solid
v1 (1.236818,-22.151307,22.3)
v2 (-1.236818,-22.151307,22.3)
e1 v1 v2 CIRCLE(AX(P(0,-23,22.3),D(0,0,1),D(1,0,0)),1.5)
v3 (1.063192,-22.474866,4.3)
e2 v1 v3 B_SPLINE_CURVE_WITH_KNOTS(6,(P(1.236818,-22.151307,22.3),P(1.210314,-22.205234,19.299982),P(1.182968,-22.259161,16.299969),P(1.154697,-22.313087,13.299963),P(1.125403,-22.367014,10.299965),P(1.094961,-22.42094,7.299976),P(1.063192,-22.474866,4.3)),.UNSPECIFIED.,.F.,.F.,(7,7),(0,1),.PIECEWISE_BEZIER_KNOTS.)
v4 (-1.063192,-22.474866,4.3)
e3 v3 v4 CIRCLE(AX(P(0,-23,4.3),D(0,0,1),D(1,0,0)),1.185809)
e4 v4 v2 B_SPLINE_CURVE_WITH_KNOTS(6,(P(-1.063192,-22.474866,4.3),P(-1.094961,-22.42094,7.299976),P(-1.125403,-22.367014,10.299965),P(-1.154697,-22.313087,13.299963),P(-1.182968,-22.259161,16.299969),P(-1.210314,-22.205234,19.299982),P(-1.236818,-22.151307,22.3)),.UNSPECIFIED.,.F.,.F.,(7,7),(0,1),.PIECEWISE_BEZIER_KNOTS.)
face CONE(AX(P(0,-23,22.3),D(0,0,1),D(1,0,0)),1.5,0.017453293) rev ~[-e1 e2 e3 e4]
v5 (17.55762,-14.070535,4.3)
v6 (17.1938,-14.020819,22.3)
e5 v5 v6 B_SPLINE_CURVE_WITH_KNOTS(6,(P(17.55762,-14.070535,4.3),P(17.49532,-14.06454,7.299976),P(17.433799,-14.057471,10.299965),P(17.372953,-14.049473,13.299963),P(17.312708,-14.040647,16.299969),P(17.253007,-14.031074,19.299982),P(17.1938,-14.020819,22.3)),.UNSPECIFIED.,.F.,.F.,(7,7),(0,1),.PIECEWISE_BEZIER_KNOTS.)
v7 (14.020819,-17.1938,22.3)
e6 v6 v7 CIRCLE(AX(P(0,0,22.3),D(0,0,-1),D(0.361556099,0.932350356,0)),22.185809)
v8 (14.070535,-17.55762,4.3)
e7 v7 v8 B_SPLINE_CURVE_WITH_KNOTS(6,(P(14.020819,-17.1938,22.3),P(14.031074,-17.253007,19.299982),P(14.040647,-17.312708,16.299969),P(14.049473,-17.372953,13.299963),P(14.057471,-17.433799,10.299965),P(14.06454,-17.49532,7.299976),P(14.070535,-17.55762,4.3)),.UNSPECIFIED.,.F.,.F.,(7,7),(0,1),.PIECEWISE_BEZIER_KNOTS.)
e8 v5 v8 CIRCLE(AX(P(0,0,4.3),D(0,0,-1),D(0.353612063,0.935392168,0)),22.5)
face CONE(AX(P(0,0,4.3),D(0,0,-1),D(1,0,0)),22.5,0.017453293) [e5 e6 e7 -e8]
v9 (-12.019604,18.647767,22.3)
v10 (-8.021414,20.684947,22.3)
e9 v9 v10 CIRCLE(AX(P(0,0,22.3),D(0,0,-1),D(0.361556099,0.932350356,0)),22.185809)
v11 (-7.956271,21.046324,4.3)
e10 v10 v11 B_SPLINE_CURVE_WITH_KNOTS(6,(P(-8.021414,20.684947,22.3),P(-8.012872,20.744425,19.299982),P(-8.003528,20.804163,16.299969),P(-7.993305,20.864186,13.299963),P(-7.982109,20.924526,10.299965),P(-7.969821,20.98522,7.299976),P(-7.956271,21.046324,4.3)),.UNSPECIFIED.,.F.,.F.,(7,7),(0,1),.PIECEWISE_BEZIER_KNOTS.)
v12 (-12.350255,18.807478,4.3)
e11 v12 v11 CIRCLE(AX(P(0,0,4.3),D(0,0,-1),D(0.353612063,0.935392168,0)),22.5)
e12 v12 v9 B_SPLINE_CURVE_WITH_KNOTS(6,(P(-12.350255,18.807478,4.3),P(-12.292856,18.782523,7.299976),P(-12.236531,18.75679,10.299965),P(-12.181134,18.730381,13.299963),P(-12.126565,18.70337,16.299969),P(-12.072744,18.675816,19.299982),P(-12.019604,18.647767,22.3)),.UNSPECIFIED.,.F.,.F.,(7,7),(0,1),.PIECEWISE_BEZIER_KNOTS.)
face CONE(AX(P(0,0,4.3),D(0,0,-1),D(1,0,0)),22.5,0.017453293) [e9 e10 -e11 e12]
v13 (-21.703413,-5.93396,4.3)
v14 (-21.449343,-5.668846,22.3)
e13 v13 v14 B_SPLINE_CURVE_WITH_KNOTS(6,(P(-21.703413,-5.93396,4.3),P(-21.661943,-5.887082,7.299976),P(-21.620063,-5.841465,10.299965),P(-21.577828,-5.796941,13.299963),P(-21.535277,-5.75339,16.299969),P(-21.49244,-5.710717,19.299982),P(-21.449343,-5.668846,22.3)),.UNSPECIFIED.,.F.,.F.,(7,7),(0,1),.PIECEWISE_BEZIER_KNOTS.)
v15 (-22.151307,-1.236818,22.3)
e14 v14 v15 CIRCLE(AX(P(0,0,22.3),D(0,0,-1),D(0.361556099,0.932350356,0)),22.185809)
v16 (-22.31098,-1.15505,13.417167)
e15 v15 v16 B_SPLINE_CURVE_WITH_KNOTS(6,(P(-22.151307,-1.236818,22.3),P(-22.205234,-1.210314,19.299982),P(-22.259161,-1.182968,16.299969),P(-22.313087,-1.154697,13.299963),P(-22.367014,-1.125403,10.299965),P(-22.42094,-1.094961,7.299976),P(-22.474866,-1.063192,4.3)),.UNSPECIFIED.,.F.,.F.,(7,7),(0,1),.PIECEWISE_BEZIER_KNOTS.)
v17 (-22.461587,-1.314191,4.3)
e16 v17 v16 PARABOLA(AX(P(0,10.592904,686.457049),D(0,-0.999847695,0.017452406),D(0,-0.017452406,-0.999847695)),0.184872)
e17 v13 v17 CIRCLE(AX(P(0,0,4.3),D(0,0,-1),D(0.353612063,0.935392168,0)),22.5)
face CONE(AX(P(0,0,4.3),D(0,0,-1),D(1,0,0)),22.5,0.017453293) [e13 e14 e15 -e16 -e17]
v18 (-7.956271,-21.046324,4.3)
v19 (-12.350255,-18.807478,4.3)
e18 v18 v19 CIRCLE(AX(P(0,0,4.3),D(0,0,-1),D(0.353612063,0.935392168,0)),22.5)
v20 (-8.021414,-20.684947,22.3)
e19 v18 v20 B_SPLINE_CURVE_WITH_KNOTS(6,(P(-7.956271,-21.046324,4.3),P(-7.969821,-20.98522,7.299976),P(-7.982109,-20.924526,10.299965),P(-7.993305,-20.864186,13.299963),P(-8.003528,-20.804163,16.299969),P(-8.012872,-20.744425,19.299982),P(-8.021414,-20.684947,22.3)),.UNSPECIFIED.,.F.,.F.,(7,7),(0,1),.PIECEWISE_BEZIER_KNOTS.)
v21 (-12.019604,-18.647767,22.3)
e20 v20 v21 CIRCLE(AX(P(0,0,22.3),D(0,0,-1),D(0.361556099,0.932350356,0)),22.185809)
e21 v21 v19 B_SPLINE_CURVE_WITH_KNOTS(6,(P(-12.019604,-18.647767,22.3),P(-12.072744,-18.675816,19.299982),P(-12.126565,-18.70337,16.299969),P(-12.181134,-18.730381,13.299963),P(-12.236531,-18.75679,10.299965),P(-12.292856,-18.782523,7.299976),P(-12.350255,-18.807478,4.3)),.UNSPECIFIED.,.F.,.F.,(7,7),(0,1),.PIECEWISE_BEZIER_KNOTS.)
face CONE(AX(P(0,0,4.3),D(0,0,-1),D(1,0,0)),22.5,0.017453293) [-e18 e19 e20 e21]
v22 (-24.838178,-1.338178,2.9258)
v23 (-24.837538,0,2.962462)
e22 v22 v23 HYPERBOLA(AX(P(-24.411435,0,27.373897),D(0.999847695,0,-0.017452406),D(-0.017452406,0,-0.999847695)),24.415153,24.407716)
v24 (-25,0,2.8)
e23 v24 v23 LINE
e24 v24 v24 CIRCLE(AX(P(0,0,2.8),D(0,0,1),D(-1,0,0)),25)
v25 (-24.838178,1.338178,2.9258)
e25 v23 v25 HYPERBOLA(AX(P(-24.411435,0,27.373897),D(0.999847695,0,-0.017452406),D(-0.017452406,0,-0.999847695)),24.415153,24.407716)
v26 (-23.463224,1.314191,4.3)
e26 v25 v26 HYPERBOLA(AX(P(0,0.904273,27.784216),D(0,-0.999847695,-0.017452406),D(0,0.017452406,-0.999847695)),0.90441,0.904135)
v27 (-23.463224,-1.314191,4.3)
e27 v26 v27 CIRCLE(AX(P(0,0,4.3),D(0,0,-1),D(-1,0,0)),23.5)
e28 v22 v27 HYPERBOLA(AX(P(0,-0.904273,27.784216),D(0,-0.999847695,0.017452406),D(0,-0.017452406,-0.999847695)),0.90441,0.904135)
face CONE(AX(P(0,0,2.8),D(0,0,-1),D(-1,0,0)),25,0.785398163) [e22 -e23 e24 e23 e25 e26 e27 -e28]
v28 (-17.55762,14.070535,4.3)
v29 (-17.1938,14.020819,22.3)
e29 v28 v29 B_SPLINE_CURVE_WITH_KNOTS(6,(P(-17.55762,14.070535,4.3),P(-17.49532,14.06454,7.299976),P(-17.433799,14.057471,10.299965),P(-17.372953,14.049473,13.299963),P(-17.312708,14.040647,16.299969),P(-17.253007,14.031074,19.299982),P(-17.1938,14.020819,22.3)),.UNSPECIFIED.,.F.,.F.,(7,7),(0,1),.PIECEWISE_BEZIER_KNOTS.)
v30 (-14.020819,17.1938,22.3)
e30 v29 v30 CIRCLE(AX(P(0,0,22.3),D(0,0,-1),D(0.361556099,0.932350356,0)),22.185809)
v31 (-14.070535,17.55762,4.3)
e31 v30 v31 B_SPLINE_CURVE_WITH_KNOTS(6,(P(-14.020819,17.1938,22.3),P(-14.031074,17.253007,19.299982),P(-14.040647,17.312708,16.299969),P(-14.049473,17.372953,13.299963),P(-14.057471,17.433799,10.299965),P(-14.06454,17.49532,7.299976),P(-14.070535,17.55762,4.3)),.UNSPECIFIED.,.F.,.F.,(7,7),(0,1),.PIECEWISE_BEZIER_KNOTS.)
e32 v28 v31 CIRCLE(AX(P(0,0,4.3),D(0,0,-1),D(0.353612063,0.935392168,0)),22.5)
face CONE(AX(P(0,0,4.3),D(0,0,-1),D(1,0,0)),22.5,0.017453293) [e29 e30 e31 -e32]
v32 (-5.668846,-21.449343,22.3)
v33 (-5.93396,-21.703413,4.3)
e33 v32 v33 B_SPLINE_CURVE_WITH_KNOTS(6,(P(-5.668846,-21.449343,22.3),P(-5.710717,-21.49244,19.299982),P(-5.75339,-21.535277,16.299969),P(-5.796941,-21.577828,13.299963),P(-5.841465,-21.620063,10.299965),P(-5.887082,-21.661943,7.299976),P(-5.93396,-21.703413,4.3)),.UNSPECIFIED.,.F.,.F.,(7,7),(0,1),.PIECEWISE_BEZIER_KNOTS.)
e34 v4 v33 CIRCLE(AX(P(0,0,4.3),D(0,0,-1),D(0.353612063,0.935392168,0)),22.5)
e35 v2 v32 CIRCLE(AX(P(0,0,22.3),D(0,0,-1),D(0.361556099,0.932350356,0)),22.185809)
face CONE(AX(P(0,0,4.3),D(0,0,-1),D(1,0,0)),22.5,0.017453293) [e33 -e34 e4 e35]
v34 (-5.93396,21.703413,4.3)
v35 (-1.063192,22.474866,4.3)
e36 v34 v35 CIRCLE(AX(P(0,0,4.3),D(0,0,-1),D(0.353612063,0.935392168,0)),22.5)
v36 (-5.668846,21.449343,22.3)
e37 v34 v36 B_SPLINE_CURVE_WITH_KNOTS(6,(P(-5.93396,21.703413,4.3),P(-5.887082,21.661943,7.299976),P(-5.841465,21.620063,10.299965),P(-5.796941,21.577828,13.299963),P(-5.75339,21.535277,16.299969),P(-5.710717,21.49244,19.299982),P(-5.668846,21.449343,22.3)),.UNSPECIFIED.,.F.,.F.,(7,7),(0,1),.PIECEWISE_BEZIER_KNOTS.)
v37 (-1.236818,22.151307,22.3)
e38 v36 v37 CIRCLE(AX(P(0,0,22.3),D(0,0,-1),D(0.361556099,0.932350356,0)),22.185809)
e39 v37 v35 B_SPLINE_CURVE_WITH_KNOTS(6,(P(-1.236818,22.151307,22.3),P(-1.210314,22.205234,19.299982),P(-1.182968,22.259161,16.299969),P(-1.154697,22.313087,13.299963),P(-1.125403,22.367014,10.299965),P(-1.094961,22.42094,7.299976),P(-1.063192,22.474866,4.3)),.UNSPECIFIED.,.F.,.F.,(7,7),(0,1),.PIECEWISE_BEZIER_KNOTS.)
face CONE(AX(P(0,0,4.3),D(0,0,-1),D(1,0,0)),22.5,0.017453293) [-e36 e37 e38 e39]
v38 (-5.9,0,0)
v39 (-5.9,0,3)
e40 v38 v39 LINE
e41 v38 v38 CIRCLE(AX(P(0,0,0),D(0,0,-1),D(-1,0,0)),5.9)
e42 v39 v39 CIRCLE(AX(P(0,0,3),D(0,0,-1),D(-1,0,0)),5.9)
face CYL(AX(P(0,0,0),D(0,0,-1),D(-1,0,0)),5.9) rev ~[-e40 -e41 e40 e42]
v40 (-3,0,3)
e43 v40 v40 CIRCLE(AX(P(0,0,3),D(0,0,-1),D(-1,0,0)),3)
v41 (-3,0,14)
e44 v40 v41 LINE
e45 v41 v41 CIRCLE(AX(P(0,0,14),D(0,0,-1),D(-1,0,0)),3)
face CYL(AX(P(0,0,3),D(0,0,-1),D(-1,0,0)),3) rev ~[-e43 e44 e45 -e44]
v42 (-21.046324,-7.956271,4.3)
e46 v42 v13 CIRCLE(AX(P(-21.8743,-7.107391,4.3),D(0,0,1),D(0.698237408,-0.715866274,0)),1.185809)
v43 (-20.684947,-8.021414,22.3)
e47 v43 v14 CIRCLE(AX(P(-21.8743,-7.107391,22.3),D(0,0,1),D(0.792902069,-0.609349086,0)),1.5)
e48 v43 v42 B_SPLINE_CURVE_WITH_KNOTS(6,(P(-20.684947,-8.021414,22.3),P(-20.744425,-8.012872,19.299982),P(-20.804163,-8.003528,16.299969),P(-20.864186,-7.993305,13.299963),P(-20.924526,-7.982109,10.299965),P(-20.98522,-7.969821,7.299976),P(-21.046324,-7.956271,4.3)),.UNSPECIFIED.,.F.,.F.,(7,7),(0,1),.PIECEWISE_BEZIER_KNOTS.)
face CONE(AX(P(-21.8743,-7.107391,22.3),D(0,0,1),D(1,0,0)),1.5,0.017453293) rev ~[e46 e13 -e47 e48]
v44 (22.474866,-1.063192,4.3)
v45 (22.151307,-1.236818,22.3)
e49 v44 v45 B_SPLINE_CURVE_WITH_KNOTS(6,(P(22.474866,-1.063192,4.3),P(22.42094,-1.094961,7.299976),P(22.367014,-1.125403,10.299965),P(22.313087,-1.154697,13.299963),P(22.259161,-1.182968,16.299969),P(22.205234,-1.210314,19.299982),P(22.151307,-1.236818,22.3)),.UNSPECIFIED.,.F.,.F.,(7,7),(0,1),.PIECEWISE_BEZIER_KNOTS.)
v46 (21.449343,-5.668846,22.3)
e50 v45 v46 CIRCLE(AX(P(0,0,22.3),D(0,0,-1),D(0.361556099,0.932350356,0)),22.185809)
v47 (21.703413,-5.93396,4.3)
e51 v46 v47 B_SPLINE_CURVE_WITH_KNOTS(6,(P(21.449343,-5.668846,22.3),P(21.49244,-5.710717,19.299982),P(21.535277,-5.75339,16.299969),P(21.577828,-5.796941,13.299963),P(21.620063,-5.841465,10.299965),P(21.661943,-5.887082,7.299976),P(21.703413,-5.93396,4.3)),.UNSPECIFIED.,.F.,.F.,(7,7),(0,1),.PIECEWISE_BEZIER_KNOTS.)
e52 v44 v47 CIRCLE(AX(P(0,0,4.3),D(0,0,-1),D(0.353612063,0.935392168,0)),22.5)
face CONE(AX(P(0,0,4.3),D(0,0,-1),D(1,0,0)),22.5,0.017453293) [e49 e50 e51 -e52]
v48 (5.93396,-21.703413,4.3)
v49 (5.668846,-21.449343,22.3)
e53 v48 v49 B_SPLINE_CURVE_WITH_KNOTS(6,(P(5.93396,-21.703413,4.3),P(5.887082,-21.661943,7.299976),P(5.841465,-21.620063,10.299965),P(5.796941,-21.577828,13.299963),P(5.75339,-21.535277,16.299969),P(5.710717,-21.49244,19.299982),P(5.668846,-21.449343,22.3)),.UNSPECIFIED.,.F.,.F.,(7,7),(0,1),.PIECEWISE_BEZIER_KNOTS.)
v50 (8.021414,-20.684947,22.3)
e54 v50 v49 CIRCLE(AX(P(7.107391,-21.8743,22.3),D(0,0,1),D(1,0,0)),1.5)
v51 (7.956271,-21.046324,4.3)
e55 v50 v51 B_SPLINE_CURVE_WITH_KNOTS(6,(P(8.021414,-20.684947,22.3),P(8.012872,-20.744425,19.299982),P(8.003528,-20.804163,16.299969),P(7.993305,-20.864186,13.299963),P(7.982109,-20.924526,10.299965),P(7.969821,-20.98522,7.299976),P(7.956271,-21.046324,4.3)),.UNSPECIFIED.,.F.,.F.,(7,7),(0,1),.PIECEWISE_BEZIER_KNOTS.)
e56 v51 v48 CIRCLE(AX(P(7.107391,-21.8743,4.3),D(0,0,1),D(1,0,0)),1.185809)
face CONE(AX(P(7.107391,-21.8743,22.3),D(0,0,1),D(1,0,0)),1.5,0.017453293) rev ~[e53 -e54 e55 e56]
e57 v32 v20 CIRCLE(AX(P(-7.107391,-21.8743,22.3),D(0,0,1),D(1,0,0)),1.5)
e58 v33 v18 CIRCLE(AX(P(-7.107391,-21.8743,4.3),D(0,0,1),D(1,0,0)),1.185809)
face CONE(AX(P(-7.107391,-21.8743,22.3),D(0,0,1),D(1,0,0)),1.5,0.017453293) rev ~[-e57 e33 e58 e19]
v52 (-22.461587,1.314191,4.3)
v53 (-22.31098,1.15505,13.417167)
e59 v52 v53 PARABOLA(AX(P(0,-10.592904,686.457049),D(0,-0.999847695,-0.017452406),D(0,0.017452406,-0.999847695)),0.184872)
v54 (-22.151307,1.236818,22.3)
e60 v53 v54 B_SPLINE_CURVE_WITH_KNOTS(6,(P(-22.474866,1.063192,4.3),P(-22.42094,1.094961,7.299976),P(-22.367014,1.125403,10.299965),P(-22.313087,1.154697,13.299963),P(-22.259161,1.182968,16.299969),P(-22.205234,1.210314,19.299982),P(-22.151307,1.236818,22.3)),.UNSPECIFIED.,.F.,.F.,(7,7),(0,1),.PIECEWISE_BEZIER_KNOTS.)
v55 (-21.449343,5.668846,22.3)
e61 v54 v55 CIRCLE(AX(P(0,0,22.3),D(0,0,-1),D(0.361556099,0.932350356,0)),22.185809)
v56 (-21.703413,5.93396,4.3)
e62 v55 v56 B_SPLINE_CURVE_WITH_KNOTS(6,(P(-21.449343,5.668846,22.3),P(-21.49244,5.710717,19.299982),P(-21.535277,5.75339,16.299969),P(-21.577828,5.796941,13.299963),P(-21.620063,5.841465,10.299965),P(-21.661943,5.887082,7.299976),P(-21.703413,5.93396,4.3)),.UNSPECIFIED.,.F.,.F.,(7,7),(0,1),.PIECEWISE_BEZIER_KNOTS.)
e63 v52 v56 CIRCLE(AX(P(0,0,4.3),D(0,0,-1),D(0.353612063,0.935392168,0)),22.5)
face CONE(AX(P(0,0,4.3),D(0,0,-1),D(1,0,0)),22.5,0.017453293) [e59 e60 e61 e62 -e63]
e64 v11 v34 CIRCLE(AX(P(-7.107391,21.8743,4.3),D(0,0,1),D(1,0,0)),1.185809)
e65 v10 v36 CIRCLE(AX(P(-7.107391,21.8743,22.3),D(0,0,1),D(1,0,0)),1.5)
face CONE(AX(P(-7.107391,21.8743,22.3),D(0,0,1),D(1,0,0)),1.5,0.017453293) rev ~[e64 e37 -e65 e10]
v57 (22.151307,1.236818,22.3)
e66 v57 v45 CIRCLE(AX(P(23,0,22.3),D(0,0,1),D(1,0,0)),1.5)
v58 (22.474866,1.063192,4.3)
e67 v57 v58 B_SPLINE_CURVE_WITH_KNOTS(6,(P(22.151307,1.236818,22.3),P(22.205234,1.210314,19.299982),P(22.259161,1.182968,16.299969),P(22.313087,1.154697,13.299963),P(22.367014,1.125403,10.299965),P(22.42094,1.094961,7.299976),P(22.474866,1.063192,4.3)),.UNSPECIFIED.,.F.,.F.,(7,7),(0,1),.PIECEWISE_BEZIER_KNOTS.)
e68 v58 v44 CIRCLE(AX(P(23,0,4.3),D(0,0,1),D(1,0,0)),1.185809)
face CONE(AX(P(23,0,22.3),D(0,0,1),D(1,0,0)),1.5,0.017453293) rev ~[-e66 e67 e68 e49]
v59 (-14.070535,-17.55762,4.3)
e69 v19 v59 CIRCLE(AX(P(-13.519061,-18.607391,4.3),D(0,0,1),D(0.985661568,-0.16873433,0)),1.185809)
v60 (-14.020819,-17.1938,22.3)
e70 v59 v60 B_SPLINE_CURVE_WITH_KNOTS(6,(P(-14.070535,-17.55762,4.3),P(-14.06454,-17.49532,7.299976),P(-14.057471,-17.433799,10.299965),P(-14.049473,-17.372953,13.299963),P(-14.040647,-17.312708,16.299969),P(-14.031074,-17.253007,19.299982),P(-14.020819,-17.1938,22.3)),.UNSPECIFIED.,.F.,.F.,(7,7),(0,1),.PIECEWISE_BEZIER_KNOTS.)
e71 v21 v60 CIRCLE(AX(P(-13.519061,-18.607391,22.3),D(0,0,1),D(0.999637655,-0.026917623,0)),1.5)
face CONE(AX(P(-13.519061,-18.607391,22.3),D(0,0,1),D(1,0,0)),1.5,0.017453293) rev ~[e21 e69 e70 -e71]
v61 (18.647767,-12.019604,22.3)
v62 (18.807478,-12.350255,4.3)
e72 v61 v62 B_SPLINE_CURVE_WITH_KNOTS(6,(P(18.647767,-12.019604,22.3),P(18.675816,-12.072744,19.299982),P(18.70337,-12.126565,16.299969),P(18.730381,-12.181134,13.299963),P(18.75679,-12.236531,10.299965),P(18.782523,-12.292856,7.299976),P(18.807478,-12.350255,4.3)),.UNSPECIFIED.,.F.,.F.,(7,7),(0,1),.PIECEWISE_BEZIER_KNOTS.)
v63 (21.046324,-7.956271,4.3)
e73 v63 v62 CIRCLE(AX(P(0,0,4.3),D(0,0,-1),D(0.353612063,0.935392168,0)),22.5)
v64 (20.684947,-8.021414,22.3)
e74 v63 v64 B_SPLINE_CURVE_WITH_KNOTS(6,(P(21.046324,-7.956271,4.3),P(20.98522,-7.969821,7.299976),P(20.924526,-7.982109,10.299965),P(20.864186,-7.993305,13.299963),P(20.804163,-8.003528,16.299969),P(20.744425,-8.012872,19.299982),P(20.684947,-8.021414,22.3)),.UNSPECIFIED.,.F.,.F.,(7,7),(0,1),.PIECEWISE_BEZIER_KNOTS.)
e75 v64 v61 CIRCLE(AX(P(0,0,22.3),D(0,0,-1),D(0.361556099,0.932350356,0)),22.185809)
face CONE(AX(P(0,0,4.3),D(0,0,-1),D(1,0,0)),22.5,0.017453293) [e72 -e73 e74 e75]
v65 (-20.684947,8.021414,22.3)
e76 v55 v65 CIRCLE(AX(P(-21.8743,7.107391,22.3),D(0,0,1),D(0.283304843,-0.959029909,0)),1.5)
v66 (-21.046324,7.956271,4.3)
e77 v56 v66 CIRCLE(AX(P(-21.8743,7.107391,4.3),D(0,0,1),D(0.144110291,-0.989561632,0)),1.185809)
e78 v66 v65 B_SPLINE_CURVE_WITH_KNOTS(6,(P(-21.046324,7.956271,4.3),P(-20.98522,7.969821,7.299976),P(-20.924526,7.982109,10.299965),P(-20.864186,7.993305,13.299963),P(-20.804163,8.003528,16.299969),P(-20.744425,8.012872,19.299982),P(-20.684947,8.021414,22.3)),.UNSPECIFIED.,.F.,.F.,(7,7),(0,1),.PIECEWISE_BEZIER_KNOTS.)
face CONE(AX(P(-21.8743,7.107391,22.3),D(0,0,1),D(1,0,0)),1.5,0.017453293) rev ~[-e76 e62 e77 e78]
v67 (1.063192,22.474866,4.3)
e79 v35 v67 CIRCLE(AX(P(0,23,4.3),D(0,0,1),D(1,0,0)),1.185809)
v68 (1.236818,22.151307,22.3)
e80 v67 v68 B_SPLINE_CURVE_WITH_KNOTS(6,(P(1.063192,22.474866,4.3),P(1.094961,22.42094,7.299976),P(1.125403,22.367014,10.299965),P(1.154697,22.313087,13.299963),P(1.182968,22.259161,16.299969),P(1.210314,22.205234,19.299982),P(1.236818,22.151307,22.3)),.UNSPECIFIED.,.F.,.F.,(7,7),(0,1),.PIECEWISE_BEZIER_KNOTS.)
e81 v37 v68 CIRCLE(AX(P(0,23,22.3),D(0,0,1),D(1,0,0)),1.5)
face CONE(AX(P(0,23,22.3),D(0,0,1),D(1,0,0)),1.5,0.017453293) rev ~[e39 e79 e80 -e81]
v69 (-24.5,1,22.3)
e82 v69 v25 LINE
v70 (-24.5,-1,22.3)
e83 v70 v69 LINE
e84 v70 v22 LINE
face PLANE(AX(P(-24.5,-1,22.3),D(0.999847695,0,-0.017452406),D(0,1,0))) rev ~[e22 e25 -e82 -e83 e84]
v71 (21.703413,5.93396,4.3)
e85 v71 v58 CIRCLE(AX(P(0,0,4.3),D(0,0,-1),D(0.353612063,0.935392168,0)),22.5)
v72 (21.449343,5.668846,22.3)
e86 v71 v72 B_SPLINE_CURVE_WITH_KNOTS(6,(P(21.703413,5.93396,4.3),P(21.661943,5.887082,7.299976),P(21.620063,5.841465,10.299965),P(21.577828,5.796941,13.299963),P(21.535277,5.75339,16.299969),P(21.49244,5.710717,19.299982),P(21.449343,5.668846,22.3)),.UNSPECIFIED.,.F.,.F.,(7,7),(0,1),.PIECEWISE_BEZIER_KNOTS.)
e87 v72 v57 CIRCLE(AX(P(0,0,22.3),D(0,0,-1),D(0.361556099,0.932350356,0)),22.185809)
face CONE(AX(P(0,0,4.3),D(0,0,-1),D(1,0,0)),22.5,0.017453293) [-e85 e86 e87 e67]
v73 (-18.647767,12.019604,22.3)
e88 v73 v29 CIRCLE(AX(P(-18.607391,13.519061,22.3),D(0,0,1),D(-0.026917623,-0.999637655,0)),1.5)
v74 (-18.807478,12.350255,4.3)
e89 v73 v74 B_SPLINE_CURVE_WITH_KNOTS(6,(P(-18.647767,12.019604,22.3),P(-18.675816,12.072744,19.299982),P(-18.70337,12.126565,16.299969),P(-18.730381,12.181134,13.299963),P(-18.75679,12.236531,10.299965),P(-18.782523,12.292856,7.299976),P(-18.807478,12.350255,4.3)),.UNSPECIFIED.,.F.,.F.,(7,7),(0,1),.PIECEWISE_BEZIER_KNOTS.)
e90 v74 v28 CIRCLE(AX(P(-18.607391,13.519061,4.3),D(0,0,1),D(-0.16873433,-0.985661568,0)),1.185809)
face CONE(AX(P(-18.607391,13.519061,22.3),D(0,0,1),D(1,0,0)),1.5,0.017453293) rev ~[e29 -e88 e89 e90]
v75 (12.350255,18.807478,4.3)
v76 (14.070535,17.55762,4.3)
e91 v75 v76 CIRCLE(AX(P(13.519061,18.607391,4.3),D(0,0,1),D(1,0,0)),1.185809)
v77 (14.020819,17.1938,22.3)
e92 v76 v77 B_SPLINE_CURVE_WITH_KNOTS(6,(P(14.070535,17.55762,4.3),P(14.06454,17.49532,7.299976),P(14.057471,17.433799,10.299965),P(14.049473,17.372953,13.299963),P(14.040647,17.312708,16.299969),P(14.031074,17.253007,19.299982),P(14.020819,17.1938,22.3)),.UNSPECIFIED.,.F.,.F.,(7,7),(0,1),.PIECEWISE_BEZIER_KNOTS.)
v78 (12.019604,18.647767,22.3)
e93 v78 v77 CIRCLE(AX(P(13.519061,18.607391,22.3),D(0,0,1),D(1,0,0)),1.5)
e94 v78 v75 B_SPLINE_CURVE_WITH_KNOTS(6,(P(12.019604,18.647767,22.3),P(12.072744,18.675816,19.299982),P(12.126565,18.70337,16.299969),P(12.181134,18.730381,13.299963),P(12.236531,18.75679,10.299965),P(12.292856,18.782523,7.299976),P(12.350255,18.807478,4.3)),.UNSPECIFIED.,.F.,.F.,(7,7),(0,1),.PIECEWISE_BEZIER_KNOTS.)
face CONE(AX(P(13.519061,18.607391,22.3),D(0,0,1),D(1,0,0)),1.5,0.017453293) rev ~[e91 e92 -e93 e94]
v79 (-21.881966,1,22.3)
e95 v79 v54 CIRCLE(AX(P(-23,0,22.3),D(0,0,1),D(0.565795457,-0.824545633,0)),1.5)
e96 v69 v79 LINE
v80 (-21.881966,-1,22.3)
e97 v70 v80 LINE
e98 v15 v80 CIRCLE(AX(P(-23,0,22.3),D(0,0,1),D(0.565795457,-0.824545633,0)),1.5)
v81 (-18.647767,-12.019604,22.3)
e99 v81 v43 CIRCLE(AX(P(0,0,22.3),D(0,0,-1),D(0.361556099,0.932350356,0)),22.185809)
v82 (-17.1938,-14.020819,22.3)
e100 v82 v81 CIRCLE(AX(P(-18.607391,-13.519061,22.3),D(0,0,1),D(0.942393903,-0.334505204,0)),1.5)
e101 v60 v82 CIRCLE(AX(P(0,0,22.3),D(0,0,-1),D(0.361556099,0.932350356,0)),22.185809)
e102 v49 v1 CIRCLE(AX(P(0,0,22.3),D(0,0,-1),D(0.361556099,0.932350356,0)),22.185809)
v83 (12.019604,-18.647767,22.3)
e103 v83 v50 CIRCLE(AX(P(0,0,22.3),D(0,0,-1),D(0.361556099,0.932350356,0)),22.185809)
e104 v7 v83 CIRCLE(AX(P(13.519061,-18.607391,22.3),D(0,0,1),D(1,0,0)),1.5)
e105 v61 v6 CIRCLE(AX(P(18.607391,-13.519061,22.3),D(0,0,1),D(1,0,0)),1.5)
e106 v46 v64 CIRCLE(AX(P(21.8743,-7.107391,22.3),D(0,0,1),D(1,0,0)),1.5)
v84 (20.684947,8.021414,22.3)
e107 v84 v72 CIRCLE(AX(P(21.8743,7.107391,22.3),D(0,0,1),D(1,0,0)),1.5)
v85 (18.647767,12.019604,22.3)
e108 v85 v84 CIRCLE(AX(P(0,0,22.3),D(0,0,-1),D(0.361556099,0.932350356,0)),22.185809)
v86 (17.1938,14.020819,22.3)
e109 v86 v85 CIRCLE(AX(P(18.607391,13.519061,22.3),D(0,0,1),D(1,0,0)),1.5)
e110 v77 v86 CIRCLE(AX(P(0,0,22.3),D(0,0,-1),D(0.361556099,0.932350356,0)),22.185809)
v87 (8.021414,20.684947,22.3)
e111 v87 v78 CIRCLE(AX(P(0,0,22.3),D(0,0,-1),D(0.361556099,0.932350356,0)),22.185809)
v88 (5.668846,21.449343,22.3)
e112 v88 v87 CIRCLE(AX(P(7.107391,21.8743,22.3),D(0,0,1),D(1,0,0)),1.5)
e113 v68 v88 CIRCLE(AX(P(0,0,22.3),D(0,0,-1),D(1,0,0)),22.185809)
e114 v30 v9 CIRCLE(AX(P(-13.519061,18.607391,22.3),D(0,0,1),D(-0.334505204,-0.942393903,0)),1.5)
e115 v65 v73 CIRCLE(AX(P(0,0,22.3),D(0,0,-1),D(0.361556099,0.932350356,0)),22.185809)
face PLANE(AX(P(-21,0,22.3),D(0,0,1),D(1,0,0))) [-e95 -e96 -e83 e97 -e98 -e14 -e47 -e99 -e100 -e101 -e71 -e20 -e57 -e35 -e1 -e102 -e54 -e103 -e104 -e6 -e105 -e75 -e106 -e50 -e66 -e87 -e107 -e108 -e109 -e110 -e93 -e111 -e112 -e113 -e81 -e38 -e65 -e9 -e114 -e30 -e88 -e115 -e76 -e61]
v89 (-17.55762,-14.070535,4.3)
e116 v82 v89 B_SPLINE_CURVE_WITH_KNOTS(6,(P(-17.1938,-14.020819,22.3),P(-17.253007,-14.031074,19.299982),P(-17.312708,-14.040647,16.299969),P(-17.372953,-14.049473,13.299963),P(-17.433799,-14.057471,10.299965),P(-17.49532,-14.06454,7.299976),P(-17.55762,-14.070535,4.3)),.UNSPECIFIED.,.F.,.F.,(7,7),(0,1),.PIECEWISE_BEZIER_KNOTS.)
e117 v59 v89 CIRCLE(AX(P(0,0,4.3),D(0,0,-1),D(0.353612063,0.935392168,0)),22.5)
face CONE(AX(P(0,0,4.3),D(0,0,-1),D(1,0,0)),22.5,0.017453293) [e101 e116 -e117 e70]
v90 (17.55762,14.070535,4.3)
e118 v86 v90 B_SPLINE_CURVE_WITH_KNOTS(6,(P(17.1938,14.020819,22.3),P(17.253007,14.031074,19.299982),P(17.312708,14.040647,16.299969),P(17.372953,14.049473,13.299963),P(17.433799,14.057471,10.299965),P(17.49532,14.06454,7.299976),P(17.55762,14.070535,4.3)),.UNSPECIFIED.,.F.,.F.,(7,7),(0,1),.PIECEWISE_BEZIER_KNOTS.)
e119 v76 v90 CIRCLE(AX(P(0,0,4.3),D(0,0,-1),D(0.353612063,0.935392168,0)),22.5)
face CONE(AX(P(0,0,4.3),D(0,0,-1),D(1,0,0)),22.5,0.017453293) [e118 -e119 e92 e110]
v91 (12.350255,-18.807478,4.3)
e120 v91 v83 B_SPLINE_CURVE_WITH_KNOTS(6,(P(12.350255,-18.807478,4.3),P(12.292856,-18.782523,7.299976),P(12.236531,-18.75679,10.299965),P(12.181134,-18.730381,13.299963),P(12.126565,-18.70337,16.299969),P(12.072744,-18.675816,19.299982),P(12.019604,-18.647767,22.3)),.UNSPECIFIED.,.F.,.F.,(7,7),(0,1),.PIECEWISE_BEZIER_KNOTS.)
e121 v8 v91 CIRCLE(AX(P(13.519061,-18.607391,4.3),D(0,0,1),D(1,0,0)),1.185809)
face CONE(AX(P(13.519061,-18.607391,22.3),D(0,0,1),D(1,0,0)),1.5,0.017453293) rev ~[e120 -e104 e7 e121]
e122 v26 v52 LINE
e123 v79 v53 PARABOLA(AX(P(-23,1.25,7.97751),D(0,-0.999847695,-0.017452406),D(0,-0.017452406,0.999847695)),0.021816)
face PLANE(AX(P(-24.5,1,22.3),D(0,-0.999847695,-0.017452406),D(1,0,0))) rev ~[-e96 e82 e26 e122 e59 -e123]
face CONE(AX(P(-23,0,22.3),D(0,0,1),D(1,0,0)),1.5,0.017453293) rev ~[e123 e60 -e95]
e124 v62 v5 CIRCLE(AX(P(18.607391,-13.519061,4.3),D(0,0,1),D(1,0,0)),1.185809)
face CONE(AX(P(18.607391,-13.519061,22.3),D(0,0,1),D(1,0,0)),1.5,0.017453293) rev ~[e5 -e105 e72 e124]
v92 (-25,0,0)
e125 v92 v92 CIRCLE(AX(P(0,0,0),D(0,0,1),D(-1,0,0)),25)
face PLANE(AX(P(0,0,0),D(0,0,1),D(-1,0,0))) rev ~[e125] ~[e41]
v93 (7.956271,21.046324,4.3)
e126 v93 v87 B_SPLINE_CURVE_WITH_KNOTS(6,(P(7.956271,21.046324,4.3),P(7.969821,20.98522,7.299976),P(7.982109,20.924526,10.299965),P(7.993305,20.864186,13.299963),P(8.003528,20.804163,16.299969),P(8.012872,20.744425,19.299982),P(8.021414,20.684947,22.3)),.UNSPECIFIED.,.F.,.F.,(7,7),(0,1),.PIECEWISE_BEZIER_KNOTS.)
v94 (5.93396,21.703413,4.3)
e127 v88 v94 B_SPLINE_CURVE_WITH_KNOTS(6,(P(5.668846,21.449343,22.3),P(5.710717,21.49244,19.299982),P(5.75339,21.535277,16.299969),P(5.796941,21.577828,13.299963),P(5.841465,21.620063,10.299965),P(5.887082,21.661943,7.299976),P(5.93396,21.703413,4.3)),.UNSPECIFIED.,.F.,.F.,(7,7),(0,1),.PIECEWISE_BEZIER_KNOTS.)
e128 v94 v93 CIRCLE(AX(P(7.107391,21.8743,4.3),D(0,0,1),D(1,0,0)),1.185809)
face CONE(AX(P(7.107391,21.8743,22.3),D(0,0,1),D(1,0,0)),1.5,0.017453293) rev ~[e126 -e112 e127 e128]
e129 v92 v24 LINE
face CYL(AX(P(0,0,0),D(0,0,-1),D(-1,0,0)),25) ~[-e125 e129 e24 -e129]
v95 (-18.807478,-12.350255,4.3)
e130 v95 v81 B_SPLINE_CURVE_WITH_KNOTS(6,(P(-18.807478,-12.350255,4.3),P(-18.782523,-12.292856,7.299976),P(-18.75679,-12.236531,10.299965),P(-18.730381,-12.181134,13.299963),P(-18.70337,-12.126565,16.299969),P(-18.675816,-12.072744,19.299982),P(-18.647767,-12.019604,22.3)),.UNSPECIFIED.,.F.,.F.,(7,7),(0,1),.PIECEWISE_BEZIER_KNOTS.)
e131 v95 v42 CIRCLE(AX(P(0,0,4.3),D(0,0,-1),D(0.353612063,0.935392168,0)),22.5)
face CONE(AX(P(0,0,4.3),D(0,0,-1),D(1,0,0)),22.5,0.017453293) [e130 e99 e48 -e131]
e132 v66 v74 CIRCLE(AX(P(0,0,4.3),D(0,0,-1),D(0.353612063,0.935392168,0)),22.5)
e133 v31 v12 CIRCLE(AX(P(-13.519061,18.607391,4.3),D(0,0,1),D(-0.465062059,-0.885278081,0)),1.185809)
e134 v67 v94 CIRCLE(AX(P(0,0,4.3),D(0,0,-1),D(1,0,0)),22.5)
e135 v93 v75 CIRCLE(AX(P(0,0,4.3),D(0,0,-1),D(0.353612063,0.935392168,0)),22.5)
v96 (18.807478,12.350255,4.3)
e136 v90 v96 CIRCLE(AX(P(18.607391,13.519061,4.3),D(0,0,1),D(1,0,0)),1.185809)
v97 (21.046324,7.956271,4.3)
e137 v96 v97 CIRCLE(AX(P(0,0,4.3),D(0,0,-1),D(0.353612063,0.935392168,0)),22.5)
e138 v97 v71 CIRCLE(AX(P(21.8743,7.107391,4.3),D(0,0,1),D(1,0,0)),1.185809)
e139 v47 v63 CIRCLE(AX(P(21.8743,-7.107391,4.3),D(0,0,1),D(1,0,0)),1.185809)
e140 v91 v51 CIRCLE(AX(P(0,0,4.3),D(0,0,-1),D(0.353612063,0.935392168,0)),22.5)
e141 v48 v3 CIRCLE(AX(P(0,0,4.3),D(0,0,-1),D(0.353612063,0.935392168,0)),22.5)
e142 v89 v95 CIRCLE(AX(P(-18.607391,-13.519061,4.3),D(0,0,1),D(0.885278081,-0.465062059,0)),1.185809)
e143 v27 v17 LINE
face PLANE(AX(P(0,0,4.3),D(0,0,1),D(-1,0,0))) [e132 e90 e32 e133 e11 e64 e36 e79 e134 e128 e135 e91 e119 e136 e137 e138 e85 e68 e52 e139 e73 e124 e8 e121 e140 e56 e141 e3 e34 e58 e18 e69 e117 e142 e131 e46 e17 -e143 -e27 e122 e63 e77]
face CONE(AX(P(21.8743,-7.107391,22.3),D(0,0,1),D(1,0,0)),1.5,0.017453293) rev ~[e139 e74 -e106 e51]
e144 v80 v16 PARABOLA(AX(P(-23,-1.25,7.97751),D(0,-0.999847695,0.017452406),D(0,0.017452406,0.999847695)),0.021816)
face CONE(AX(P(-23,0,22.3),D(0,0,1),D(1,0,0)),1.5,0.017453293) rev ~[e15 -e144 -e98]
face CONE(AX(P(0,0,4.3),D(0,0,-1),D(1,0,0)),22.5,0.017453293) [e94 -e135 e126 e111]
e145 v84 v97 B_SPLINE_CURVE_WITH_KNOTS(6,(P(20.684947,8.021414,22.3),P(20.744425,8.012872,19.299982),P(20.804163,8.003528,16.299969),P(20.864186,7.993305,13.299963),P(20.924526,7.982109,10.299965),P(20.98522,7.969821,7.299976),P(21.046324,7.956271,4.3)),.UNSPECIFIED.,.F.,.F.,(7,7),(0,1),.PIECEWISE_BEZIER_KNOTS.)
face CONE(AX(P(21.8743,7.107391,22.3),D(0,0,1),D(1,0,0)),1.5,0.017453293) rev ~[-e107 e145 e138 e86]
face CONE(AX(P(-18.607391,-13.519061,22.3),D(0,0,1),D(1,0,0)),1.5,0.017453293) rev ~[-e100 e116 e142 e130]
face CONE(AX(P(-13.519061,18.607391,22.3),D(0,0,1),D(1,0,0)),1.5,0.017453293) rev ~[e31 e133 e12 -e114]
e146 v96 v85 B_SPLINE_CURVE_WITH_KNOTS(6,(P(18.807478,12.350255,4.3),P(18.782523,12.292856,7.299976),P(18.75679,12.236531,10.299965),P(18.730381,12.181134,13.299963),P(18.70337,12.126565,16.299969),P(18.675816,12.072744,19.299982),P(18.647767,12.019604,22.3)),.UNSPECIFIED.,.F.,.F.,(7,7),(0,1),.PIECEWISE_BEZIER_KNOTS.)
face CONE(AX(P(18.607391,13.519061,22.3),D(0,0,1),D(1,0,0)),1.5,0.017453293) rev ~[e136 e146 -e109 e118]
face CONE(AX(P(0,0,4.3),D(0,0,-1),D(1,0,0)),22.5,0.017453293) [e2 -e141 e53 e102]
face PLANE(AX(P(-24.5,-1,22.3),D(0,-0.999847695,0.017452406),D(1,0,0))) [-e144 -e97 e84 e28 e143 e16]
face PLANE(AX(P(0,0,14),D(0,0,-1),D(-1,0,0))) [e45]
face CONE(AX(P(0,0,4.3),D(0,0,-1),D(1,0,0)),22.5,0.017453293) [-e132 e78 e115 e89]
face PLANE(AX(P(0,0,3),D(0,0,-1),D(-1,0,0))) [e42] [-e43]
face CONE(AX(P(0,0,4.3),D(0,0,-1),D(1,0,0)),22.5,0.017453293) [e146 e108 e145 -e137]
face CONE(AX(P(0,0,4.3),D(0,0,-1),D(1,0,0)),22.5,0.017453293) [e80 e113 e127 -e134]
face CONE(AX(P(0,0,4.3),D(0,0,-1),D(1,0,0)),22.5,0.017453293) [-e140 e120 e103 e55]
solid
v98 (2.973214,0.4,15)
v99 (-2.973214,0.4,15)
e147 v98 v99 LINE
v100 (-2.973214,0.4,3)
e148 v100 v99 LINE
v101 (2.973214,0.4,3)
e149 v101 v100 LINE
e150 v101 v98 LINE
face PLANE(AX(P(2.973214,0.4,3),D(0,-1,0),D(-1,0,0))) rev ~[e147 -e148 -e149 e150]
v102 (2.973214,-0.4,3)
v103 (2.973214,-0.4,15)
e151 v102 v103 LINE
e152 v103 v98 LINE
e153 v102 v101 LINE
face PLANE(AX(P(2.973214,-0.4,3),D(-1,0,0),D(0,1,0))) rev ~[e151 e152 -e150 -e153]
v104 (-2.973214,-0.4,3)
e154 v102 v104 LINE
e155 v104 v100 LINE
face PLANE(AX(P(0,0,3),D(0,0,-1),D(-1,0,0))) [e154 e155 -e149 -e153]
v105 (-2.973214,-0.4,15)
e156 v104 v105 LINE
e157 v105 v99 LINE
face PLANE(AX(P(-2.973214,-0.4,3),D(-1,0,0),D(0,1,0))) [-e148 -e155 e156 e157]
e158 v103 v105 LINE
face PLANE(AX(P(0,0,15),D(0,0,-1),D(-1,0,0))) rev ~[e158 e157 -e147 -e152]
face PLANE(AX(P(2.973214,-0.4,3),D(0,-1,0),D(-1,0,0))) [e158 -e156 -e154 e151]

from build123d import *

# Parameters (mm, degrees)
SKETCH1_R                     = 25
BOSS_EXTRUDE1_DEPTH           = 4.3
SKETCH2_R                     = 22.5
BOSS_EXTRUDE2_DEPTH           = 18
BOSS_EXTRUDE2_TAPER           = 1
CHAMFER1_SIZE                 = 1.5
SKETCH3_R                     = 1.5
CUT_EXTRUDE2_DEPTH            = 18
CUT_EXTRUDE2_DRAFT            = -1
CUT_EXTRUDE2_PROFILE_2_DEPTH  = 18
CUT_EXTRUDE2_PROFILE_2_DRAFT  = -1
CUT_EXTRUDE2_PROFILE_3_DEPTH  = 18
CUT_EXTRUDE2_PROFILE_3_DRAFT  = -1
CUT_EXTRUDE2_PROFILE_4_DEPTH  = 18
CUT_EXTRUDE2_PROFILE_4_DRAFT  = -1
CUT_EXTRUDE2_PROFILE_5_DEPTH  = 18
CUT_EXTRUDE2_PROFILE_5_DRAFT  = -1
CUT_EXTRUDE2_PROFILE_6_DEPTH  = 18
CUT_EXTRUDE2_PROFILE_6_DRAFT  = -1
CUT_EXTRUDE2_PROFILE_7_DEPTH  = 18
CUT_EXTRUDE2_PROFILE_7_DRAFT  = -1
CUT_EXTRUDE2_PROFILE_8_DEPTH  = 18
CUT_EXTRUDE2_PROFILE_8_DRAFT  = -1
CUT_EXTRUDE2_PROFILE_9_DEPTH  = 18
CUT_EXTRUDE2_PROFILE_9_DRAFT  = -1
CUT_EXTRUDE2_PROFILE_10_DEPTH = 18
CUT_EXTRUDE2_PROFILE_10_DRAFT = -1
CUT_EXTRUDE2_PROFILE_11_DEPTH = 18
CUT_EXTRUDE2_PROFILE_11_DRAFT = -1
CUT_EXTRUDE2_PROFILE_12_DEPTH = 18
CUT_EXTRUDE2_PROFILE_12_DRAFT = -1
CUT_EXTRUDE2_PROFILE_13_DEPTH = 18
CUT_EXTRUDE2_PROFILE_13_DRAFT = -1
CUT_EXTRUDE2_PROFILE_14_DEPTH = 18
CUT_EXTRUDE2_PROFILE_14_DRAFT = -1
CUT_EXTRUDE2_PROFILE_15_DEPTH = 18
CUT_EXTRUDE2_PROFILE_15_DRAFT = -1
CUT_EXTRUDE2_PROFILE_16_DEPTH = 18
CUT_EXTRUDE2_PROFILE_16_DRAFT = -1
CUT_EXTRUDE2_PROFILE_17_DEPTH = 18
CUT_EXTRUDE2_PROFILE_17_DRAFT = -1
CUT_EXTRUDE2_PROFILE_18_DEPTH = 18
CUT_EXTRUDE2_PROFILE_18_DRAFT = -1
CUT_EXTRUDE2_PROFILE_19_DEPTH = 18
CUT_EXTRUDE2_PROFILE_19_DRAFT = -1
CUT_EXTRUDE2_PROFILE_20_DEPTH = 18
CUT_EXTRUDE2_PROFILE_20_DRAFT = -1
SKETCH4_W                     = 7
SKETCH4_H                     = 2
BOSS_EXTRUDE3_DEPTH           = 21
BOSS_EXTRUDE3_DRAFT           = 1
SKETCH5_R                     = 5.9
CUT_EXTRUDE3_DEPTH            = 3
SKETCH7_R                     = 3
CUT_EXTRUDE4_DEPTH            = 11
SKETCH8_W                     = 5.946427498
SKETCH8_H                     = 0.8
BOSS_EXTRUDE4_DEPTH           = 12


with BuildPart() as part:
    # Sketch1 → Boss-Extrude1 (new body)
    with BuildSketch(Plane.XY):
        with Locations(Location((0, 0, 0), (0, 0, 180))):
            Circle(SKETCH1_R)
    extrude(amount=BOSS_EXTRUDE1_DEPTH)

    # Sketch2 → Boss-Extrude2 (add)
    with BuildSketch(Plane.XY.offset(4.3)):
        Circle(SKETCH2_R)
    extrude(amount=BOSS_EXTRUDE2_DEPTH, taper=BOSS_EXTRUDE2_TAPER)

    # Chamfer1
    chamfer1_edges = [part.edges().sort_by_distance(p)[0] for p in [
        (25, 0, 4.3),
    ]]
    chamfer(chamfer1_edges, length=CHAMFER1_SIZE)


with BuildPart() as cut_extrude2_tool:
    # Sketch3 → Cut-Extrude2 (with draft: the straight prism first)
    with BuildSketch(Plane.XY.offset(22.3)):
        with Locations((0, 23)):
            Circle(SKETCH3_R)
    extrude(amount=-CUT_EXTRUDE2_DEPTH)
    # Cut-Extrude2: the draft: its side faces are tilted about the plane it starts from
    cut_extrude2_sides = [cut_extrude2_tool.faces().sort_by_distance(p)[0] for p in [
        (-1.5, 23, 13.3),
    ]]
    draft(cut_extrude2_sides, Plane.XY.offset(22.3), CUT_EXTRUDE2_DRAFT)


with BuildPart() as part_1:
    add(part.part)

    # Cut-Extrude2: cut by cut_extrude2_tool
    add(cut_extrude2_tool.part, mode=Mode.SUBTRACT)


with BuildPart() as cut_extrude2_profile_2_tool:
    # Sketch3 → Cut-Extrude2 profile 2 (with draft: the straight prism first)
    with BuildSketch(Plane.XY.offset(22.3)):
        with Locations((7.107390871, 21.874299875)):
            Circle(SKETCH3_R)
    extrude(amount=-CUT_EXTRUDE2_PROFILE_2_DEPTH)
    # Cut-Extrude2 profile 2: the draft: its side faces are tilted about the plane it starts from
    cut_extrude2_profile_2_sides = [cut_extrude2_profile_2_tool.faces().sort_by_distance(p)[0] for p in [
        (5.607390871, 21.874299875, 13.3),
    ]]
    draft(cut_extrude2_profile_2_sides, Plane.XY.offset(22.3), CUT_EXTRUDE2_PROFILE_2_DRAFT)


with BuildPart() as part_2:
    add(part_1.part)

    # Cut-Extrude2 profile 2: cut by cut_extrude2_profile_2_tool
    add(cut_extrude2_profile_2_tool.part, mode=Mode.SUBTRACT)


with BuildPart() as cut_extrude2_profile_3_tool:
    # Sketch3 → Cut-Extrude2 profile 3 (with draft: the straight prism first)
    with BuildSketch(Plane.XY.offset(22.3)):
        with Locations((13.519060803, 18.607390871)):
            Circle(SKETCH3_R)
    extrude(amount=-CUT_EXTRUDE2_PROFILE_3_DEPTH)
    # Cut-Extrude2 profile 3: the draft: its side faces are tilted about the plane it starts from
    cut_extrude2_profile_3_sides = [cut_extrude2_profile_3_tool.faces().sort_by_distance(p)[0] for p in [
        (12.019060803, 18.607390871, 13.3),
    ]]
    draft(cut_extrude2_profile_3_sides, Plane.XY.offset(22.3), CUT_EXTRUDE2_PROFILE_3_DRAFT)


with BuildPart() as part_3:
    add(part_2.part)

    # Cut-Extrude2 profile 3: cut by cut_extrude2_profile_3_tool
    add(cut_extrude2_profile_3_tool.part, mode=Mode.SUBTRACT)


with BuildPart() as cut_extrude2_profile_4_tool:
    # Sketch3 → Cut-Extrude2 profile 4 (with draft: the straight prism first)
    with BuildSketch(Plane.XY.offset(22.3)):
        with Locations((18.607390871, 13.519060803)):
            Circle(SKETCH3_R)
    extrude(amount=-CUT_EXTRUDE2_PROFILE_4_DEPTH)
    # Cut-Extrude2 profile 4: the draft: its side faces are tilted about the plane it starts from
    cut_extrude2_profile_4_sides = [cut_extrude2_profile_4_tool.faces().sort_by_distance(p)[0] for p in [
        (17.107390871, 13.519060803, 13.3),
    ]]
    draft(cut_extrude2_profile_4_sides, Plane.XY.offset(22.3), CUT_EXTRUDE2_PROFILE_4_DRAFT)


with BuildPart() as part_4:
    add(part_3.part)

    # Cut-Extrude2 profile 4: cut by cut_extrude2_profile_4_tool
    add(cut_extrude2_profile_4_tool.part, mode=Mode.SUBTRACT)


with BuildPart() as cut_extrude2_profile_5_tool:
    # Sketch3 → Cut-Extrude2 profile 5 (with draft: the straight prism first)
    with BuildSketch(Plane.XY.offset(22.3)):
        with Locations((21.874299875, 7.107390871)):
            Circle(SKETCH3_R)
    extrude(amount=-CUT_EXTRUDE2_PROFILE_5_DEPTH)
    # Cut-Extrude2 profile 5: the draft: its side faces are tilted about the plane it starts from
    cut_extrude2_profile_5_sides = [cut_extrude2_profile_5_tool.faces().sort_by_distance(p)[0] for p in [
        (20.374299875, 7.107390871, 13.3),
    ]]
    draft(cut_extrude2_profile_5_sides, Plane.XY.offset(22.3), CUT_EXTRUDE2_PROFILE_5_DRAFT)


with BuildPart() as part_5:
    add(part_4.part)

    # Cut-Extrude2 profile 5: cut by cut_extrude2_profile_5_tool
    add(cut_extrude2_profile_5_tool.part, mode=Mode.SUBTRACT)


with BuildPart() as cut_extrude2_profile_6_tool:
    # Sketch3 → Cut-Extrude2 profile 6 (with draft: the straight prism first)
    with BuildSketch(Plane.XY.offset(22.3)):
        with Locations((23, 0)):
            Circle(SKETCH3_R)
    extrude(amount=-CUT_EXTRUDE2_PROFILE_6_DEPTH)
    # Cut-Extrude2 profile 6: the draft: its side faces are tilted about the plane it starts from
    cut_extrude2_profile_6_sides = [cut_extrude2_profile_6_tool.faces().sort_by_distance(p)[0] for p in [
        (21.5, 0, 13.3),
    ]]
    draft(cut_extrude2_profile_6_sides, Plane.XY.offset(22.3), CUT_EXTRUDE2_PROFILE_6_DRAFT)


with BuildPart() as part_6:
    add(part_5.part)

    # Cut-Extrude2 profile 6: cut by cut_extrude2_profile_6_tool
    add(cut_extrude2_profile_6_tool.part, mode=Mode.SUBTRACT)


with BuildPart() as cut_extrude2_profile_7_tool:
    # Sketch3 → Cut-Extrude2 profile 7 (with draft: the straight prism first)
    with BuildSketch(Plane.XY.offset(22.3)):
        with Locations((21.874299875, -7.107390871)):
            Circle(SKETCH3_R)
    extrude(amount=-CUT_EXTRUDE2_PROFILE_7_DEPTH)
    # Cut-Extrude2 profile 7: the draft: its side faces are tilted about the plane it starts from
    cut_extrude2_profile_7_sides = [cut_extrude2_profile_7_tool.faces().sort_by_distance(p)[0] for p in [
        (20.374299875, -7.107390871, 13.3),
    ]]
    draft(cut_extrude2_profile_7_sides, Plane.XY.offset(22.3), CUT_EXTRUDE2_PROFILE_7_DRAFT)


with BuildPart() as part_7:
    add(part_6.part)

    # Cut-Extrude2 profile 7: cut by cut_extrude2_profile_7_tool
    add(cut_extrude2_profile_7_tool.part, mode=Mode.SUBTRACT)


with BuildPart() as cut_extrude2_profile_8_tool:
    # Sketch3 → Cut-Extrude2 profile 8 (with draft: the straight prism first)
    with BuildSketch(Plane.XY.offset(22.3)):
        with Locations((18.607390871, -13.519060803)):
            Circle(SKETCH3_R)
    extrude(amount=-CUT_EXTRUDE2_PROFILE_8_DEPTH)
    # Cut-Extrude2 profile 8: the draft: its side faces are tilted about the plane it starts from
    cut_extrude2_profile_8_sides = [cut_extrude2_profile_8_tool.faces().sort_by_distance(p)[0] for p in [
        (17.107390871, -13.519060803, 13.3),
    ]]
    draft(cut_extrude2_profile_8_sides, Plane.XY.offset(22.3), CUT_EXTRUDE2_PROFILE_8_DRAFT)


with BuildPart() as part_8:
    add(part_7.part)

    # Cut-Extrude2 profile 8: cut by cut_extrude2_profile_8_tool
    add(cut_extrude2_profile_8_tool.part, mode=Mode.SUBTRACT)


with BuildPart() as cut_extrude2_profile_9_tool:
    # Sketch3 → Cut-Extrude2 profile 9 (with draft: the straight prism first)
    with BuildSketch(Plane.XY.offset(22.3)):
        with Locations((13.519060803, -18.607390871)):
            Circle(SKETCH3_R)
    extrude(amount=-CUT_EXTRUDE2_PROFILE_9_DEPTH)
    # Cut-Extrude2 profile 9: the draft: its side faces are tilted about the plane it starts from
    cut_extrude2_profile_9_sides = [cut_extrude2_profile_9_tool.faces().sort_by_distance(p)[0] for p in [
        (12.019060803, -18.607390871, 13.3),
    ]]
    draft(cut_extrude2_profile_9_sides, Plane.XY.offset(22.3), CUT_EXTRUDE2_PROFILE_9_DRAFT)


with BuildPart() as part_9:
    add(part_8.part)

    # Cut-Extrude2 profile 9: cut by cut_extrude2_profile_9_tool
    add(cut_extrude2_profile_9_tool.part, mode=Mode.SUBTRACT)


with BuildPart() as cut_extrude2_profile_10_tool:
    # Sketch3 → Cut-Extrude2 profile 10 (with draft: the straight prism first)
    with BuildSketch(Plane.XY.offset(22.3)):
        with Locations((7.107390871, -21.874299875)):
            Circle(SKETCH3_R)
    extrude(amount=-CUT_EXTRUDE2_PROFILE_10_DEPTH)
    # Cut-Extrude2 profile 10: the draft: its side faces are tilted about the plane it starts from
    cut_extrude2_profile_10_sides = [cut_extrude2_profile_10_tool.faces().sort_by_distance(p)[0] for p in [
        (5.607390871, -21.874299875, 13.3),
    ]]
    draft(cut_extrude2_profile_10_sides, Plane.XY.offset(22.3), CUT_EXTRUDE2_PROFILE_10_DRAFT)


with BuildPart() as part_10:
    add(part_9.part)

    # Cut-Extrude2 profile 10: cut by cut_extrude2_profile_10_tool
    add(cut_extrude2_profile_10_tool.part, mode=Mode.SUBTRACT)


with BuildPart() as cut_extrude2_profile_11_tool:
    # Sketch3 → Cut-Extrude2 profile 11 (with draft: the straight prism first)
    with BuildSketch(Plane.XY.offset(22.3)):
        with Locations((0, -23)):
            Circle(SKETCH3_R)
    extrude(amount=-CUT_EXTRUDE2_PROFILE_11_DEPTH)
    # Cut-Extrude2 profile 11: the draft: its side faces are tilted about the plane it starts from
    cut_extrude2_profile_11_sides = [cut_extrude2_profile_11_tool.faces().sort_by_distance(p)[0] for p in [
        (-1.5, -23, 13.3),
    ]]
    draft(cut_extrude2_profile_11_sides, Plane.XY.offset(22.3), CUT_EXTRUDE2_PROFILE_11_DRAFT)


with BuildPart() as part_11:
    add(part_10.part)

    # Cut-Extrude2 profile 11: cut by cut_extrude2_profile_11_tool
    add(cut_extrude2_profile_11_tool.part, mode=Mode.SUBTRACT)


with BuildPart() as cut_extrude2_profile_12_tool:
    # Sketch3 → Cut-Extrude2 profile 12 (with draft: the straight prism first)
    with BuildSketch(Plane.XY.offset(22.3)):
        with Locations((-7.107390871, -21.874299875)):
            Circle(SKETCH3_R)
    extrude(amount=-CUT_EXTRUDE2_PROFILE_12_DEPTH)
    # Cut-Extrude2 profile 12: the draft: its side faces are tilted about the plane it starts from
    cut_extrude2_profile_12_sides = [cut_extrude2_profile_12_tool.faces().sort_by_distance(p)[0] for p in [
        (-8.607390871, -21.874299875, 13.3),
    ]]
    draft(cut_extrude2_profile_12_sides, Plane.XY.offset(22.3), CUT_EXTRUDE2_PROFILE_12_DRAFT)


with BuildPart() as part_12:
    add(part_11.part)

    # Cut-Extrude2 profile 12: cut by cut_extrude2_profile_12_tool
    add(cut_extrude2_profile_12_tool.part, mode=Mode.SUBTRACT)


with BuildPart() as cut_extrude2_profile_13_tool:
    # Sketch3 → Cut-Extrude2 profile 13 (with draft: the straight prism first)
    with BuildSketch(Plane.XY.offset(22.3)):
        with Locations((-13.519060803, -18.607390871)):
            Circle(SKETCH3_R)
    extrude(amount=-CUT_EXTRUDE2_PROFILE_13_DEPTH)
    # Cut-Extrude2 profile 13: the draft: its side faces are tilted about the plane it starts from
    cut_extrude2_profile_13_sides = [cut_extrude2_profile_13_tool.faces().sort_by_distance(p)[0] for p in [
        (-15.019060803, -18.607390871, 13.3),
    ]]
    draft(cut_extrude2_profile_13_sides, Plane.XY.offset(22.3), CUT_EXTRUDE2_PROFILE_13_DRAFT)


with BuildPart() as part_13:
    add(part_12.part)

    # Cut-Extrude2 profile 13: cut by cut_extrude2_profile_13_tool
    add(cut_extrude2_profile_13_tool.part, mode=Mode.SUBTRACT)


with BuildPart() as cut_extrude2_profile_14_tool:
    # Sketch3 → Cut-Extrude2 profile 14 (with draft: the straight prism first)
    with BuildSketch(Plane.XY.offset(22.3)):
        with Locations((-18.607390871, -13.519060803)):
            Circle(SKETCH3_R)
    extrude(amount=-CUT_EXTRUDE2_PROFILE_14_DEPTH)
    # Cut-Extrude2 profile 14: the draft: its side faces are tilted about the plane it starts from
    cut_extrude2_profile_14_sides = [cut_extrude2_profile_14_tool.faces().sort_by_distance(p)[0] for p in [
        (-20.107390871, -13.519060803, 13.3),
    ]]
    draft(cut_extrude2_profile_14_sides, Plane.XY.offset(22.3), CUT_EXTRUDE2_PROFILE_14_DRAFT)


with BuildPart() as part_14:
    add(part_13.part)

    # Cut-Extrude2 profile 14: cut by cut_extrude2_profile_14_tool
    add(cut_extrude2_profile_14_tool.part, mode=Mode.SUBTRACT)


with BuildPart() as cut_extrude2_profile_15_tool:
    # Sketch3 → Cut-Extrude2 profile 15 (with draft: the straight prism first)
    with BuildSketch(Plane.XY.offset(22.3)):
        with Locations((-21.874299875, -7.107390871)):
            Circle(SKETCH3_R)
    extrude(amount=-CUT_EXTRUDE2_PROFILE_15_DEPTH)
    # Cut-Extrude2 profile 15: the draft: its side faces are tilted about the plane it starts from
    cut_extrude2_profile_15_sides = [cut_extrude2_profile_15_tool.faces().sort_by_distance(p)[0] for p in [
        (-23.374299875, -7.107390871, 13.3),
    ]]
    draft(cut_extrude2_profile_15_sides, Plane.XY.offset(22.3), CUT_EXTRUDE2_PROFILE_15_DRAFT)


with BuildPart() as part_15:
    add(part_14.part)

    # Cut-Extrude2 profile 15: cut by cut_extrude2_profile_15_tool
    add(cut_extrude2_profile_15_tool.part, mode=Mode.SUBTRACT)


with BuildPart() as cut_extrude2_profile_16_tool:
    # Sketch3 → Cut-Extrude2 profile 16 (with draft: the straight prism first)
    with BuildSketch(Plane.XY.offset(22.3)):
        with Locations((-23, 0)):
            Circle(SKETCH3_R)
    extrude(amount=-CUT_EXTRUDE2_PROFILE_16_DEPTH)
    # Cut-Extrude2 profile 16: the draft: its side faces are tilted about the plane it starts from
    cut_extrude2_profile_16_sides = [cut_extrude2_profile_16_tool.faces().sort_by_distance(p)[0] for p in [
        (-24.5, 0, 13.3),
    ]]
    draft(cut_extrude2_profile_16_sides, Plane.XY.offset(22.3), CUT_EXTRUDE2_PROFILE_16_DRAFT)


with BuildPart() as part_16:
    add(part_15.part)

    # Cut-Extrude2 profile 16: cut by cut_extrude2_profile_16_tool
    add(cut_extrude2_profile_16_tool.part, mode=Mode.SUBTRACT)


with BuildPart() as cut_extrude2_profile_17_tool:
    # Sketch3 → Cut-Extrude2 profile 17 (with draft: the straight prism first)
    with BuildSketch(Plane.XY.offset(22.3)):
        with Locations((-21.874299875, 7.107390871)):
            Circle(SKETCH3_R)
    extrude(amount=-CUT_EXTRUDE2_PROFILE_17_DEPTH)
    # Cut-Extrude2 profile 17: the draft: its side faces are tilted about the plane it starts from
    cut_extrude2_profile_17_sides = [cut_extrude2_profile_17_tool.faces().sort_by_distance(p)[0] for p in [
        (-23.374299875, 7.107390871, 13.3),
    ]]
    draft(cut_extrude2_profile_17_sides, Plane.XY.offset(22.3), CUT_EXTRUDE2_PROFILE_17_DRAFT)


with BuildPart() as part_17:
    add(part_16.part)

    # Cut-Extrude2 profile 17: cut by cut_extrude2_profile_17_tool
    add(cut_extrude2_profile_17_tool.part, mode=Mode.SUBTRACT)


with BuildPart() as cut_extrude2_profile_18_tool:
    # Sketch3 → Cut-Extrude2 profile 18 (with draft: the straight prism first)
    with BuildSketch(Plane.XY.offset(22.3)):
        with Locations((-18.607390871, 13.519060803)):
            Circle(SKETCH3_R)
    extrude(amount=-CUT_EXTRUDE2_PROFILE_18_DEPTH)
    # Cut-Extrude2 profile 18: the draft: its side faces are tilted about the plane it starts from
    cut_extrude2_profile_18_sides = [cut_extrude2_profile_18_tool.faces().sort_by_distance(p)[0] for p in [
        (-20.107390871, 13.519060803, 13.3),
    ]]
    draft(cut_extrude2_profile_18_sides, Plane.XY.offset(22.3), CUT_EXTRUDE2_PROFILE_18_DRAFT)


with BuildPart() as part_18:
    add(part_17.part)

    # Cut-Extrude2 profile 18: cut by cut_extrude2_profile_18_tool
    add(cut_extrude2_profile_18_tool.part, mode=Mode.SUBTRACT)


with BuildPart() as cut_extrude2_profile_19_tool:
    # Sketch3 → Cut-Extrude2 profile 19 (with draft: the straight prism first)
    with BuildSketch(Plane.XY.offset(22.3)):
        with Locations((-13.519060803, 18.607390871)):
            Circle(SKETCH3_R)
    extrude(amount=-CUT_EXTRUDE2_PROFILE_19_DEPTH)
    # Cut-Extrude2 profile 19: the draft: its side faces are tilted about the plane it starts from
    cut_extrude2_profile_19_sides = [cut_extrude2_profile_19_tool.faces().sort_by_distance(p)[0] for p in [
        (-15.019060803, 18.607390871, 13.3),
    ]]
    draft(cut_extrude2_profile_19_sides, Plane.XY.offset(22.3), CUT_EXTRUDE2_PROFILE_19_DRAFT)


with BuildPart() as part_19:
    add(part_18.part)

    # Cut-Extrude2 profile 19: cut by cut_extrude2_profile_19_tool
    add(cut_extrude2_profile_19_tool.part, mode=Mode.SUBTRACT)


with BuildPart() as cut_extrude2_profile_20_tool:
    # Sketch3 → Cut-Extrude2 profile 20 (with draft: the straight prism first)
    with BuildSketch(Plane.XY.offset(22.3)):
        with Locations((-7.107390871, 21.874299875)):
            Circle(SKETCH3_R)
    extrude(amount=-CUT_EXTRUDE2_PROFILE_20_DEPTH)
    # Cut-Extrude2 profile 20: the draft: its side faces are tilted about the plane it starts from
    cut_extrude2_profile_20_sides = [cut_extrude2_profile_20_tool.faces().sort_by_distance(p)[0] for p in [
        (-8.607390871, 21.874299875, 13.3),
    ]]
    draft(cut_extrude2_profile_20_sides, Plane.XY.offset(22.3), CUT_EXTRUDE2_PROFILE_20_DRAFT)


with BuildPart() as part_20:
    add(part_19.part)

    # Cut-Extrude2 profile 20: cut by cut_extrude2_profile_20_tool
    add(cut_extrude2_profile_20_tool.part, mode=Mode.SUBTRACT)


with BuildPart() as boss_extrude3_tool:
    # Sketch4 → Boss-Extrude3 (with draft: the straight prism first)
    with BuildSketch(Plane.XY.offset(22.3)):
        with Locations((-21, 0)):
            Rectangle(SKETCH4_W, SKETCH4_H)
    extrude(amount=-BOSS_EXTRUDE3_DEPTH)
    # Boss-Extrude3: the draft: its side faces are tilted about the plane it starts from
    boss_extrude3_sides = [boss_extrude3_tool.faces().sort_by_distance(p)[0] for p in [
        (-24.5, 0, 11.8),
        (-21, -1, 11.8),
        (-17.5, 0, 11.8),
        (-21, 1, 11.8),
    ]]
    draft(boss_extrude3_sides, Plane.XY.offset(22.3), BOSS_EXTRUDE3_DRAFT)


with BuildPart() as part_21:
    add(part_20.part)

    # Boss-Extrude3: add boss_extrude3_tool
    add(boss_extrude3_tool.part)

    # Sketch5 → Cut-Extrude3 (cut)
    with BuildSketch(Plane(origin=(0, 0, 0), x_dir=(-1, 0, 0), z_dir=(0, 0, -1))):
        Circle(SKETCH5_R)
    extrude(amount=-CUT_EXTRUDE3_DEPTH, mode=Mode.SUBTRACT)

    # Sketch7 → Cut-Extrude4 (cut)
    with BuildSketch(Plane(origin=(0, 0, 3), x_dir=(-1, 0, 0), z_dir=(0, 0, -1))):
        Circle(SKETCH7_R)
    extrude(amount=-CUT_EXTRUDE4_DEPTH, mode=Mode.SUBTRACT)


with BuildPart() as body_2:
    # Sketch8 → Boss-Extrude4 (new body)
    with BuildSketch(Plane(origin=(0, 0, 3), x_dir=(-1, 0, 0), z_dir=(0, 0, -1))):
        Rectangle(SKETCH8_W, SKETCH8_H)
    extrude(amount=-BOSS_EXTRUDE4_DEPTH)


solid = Compound([part_21.part, body_2.part])
